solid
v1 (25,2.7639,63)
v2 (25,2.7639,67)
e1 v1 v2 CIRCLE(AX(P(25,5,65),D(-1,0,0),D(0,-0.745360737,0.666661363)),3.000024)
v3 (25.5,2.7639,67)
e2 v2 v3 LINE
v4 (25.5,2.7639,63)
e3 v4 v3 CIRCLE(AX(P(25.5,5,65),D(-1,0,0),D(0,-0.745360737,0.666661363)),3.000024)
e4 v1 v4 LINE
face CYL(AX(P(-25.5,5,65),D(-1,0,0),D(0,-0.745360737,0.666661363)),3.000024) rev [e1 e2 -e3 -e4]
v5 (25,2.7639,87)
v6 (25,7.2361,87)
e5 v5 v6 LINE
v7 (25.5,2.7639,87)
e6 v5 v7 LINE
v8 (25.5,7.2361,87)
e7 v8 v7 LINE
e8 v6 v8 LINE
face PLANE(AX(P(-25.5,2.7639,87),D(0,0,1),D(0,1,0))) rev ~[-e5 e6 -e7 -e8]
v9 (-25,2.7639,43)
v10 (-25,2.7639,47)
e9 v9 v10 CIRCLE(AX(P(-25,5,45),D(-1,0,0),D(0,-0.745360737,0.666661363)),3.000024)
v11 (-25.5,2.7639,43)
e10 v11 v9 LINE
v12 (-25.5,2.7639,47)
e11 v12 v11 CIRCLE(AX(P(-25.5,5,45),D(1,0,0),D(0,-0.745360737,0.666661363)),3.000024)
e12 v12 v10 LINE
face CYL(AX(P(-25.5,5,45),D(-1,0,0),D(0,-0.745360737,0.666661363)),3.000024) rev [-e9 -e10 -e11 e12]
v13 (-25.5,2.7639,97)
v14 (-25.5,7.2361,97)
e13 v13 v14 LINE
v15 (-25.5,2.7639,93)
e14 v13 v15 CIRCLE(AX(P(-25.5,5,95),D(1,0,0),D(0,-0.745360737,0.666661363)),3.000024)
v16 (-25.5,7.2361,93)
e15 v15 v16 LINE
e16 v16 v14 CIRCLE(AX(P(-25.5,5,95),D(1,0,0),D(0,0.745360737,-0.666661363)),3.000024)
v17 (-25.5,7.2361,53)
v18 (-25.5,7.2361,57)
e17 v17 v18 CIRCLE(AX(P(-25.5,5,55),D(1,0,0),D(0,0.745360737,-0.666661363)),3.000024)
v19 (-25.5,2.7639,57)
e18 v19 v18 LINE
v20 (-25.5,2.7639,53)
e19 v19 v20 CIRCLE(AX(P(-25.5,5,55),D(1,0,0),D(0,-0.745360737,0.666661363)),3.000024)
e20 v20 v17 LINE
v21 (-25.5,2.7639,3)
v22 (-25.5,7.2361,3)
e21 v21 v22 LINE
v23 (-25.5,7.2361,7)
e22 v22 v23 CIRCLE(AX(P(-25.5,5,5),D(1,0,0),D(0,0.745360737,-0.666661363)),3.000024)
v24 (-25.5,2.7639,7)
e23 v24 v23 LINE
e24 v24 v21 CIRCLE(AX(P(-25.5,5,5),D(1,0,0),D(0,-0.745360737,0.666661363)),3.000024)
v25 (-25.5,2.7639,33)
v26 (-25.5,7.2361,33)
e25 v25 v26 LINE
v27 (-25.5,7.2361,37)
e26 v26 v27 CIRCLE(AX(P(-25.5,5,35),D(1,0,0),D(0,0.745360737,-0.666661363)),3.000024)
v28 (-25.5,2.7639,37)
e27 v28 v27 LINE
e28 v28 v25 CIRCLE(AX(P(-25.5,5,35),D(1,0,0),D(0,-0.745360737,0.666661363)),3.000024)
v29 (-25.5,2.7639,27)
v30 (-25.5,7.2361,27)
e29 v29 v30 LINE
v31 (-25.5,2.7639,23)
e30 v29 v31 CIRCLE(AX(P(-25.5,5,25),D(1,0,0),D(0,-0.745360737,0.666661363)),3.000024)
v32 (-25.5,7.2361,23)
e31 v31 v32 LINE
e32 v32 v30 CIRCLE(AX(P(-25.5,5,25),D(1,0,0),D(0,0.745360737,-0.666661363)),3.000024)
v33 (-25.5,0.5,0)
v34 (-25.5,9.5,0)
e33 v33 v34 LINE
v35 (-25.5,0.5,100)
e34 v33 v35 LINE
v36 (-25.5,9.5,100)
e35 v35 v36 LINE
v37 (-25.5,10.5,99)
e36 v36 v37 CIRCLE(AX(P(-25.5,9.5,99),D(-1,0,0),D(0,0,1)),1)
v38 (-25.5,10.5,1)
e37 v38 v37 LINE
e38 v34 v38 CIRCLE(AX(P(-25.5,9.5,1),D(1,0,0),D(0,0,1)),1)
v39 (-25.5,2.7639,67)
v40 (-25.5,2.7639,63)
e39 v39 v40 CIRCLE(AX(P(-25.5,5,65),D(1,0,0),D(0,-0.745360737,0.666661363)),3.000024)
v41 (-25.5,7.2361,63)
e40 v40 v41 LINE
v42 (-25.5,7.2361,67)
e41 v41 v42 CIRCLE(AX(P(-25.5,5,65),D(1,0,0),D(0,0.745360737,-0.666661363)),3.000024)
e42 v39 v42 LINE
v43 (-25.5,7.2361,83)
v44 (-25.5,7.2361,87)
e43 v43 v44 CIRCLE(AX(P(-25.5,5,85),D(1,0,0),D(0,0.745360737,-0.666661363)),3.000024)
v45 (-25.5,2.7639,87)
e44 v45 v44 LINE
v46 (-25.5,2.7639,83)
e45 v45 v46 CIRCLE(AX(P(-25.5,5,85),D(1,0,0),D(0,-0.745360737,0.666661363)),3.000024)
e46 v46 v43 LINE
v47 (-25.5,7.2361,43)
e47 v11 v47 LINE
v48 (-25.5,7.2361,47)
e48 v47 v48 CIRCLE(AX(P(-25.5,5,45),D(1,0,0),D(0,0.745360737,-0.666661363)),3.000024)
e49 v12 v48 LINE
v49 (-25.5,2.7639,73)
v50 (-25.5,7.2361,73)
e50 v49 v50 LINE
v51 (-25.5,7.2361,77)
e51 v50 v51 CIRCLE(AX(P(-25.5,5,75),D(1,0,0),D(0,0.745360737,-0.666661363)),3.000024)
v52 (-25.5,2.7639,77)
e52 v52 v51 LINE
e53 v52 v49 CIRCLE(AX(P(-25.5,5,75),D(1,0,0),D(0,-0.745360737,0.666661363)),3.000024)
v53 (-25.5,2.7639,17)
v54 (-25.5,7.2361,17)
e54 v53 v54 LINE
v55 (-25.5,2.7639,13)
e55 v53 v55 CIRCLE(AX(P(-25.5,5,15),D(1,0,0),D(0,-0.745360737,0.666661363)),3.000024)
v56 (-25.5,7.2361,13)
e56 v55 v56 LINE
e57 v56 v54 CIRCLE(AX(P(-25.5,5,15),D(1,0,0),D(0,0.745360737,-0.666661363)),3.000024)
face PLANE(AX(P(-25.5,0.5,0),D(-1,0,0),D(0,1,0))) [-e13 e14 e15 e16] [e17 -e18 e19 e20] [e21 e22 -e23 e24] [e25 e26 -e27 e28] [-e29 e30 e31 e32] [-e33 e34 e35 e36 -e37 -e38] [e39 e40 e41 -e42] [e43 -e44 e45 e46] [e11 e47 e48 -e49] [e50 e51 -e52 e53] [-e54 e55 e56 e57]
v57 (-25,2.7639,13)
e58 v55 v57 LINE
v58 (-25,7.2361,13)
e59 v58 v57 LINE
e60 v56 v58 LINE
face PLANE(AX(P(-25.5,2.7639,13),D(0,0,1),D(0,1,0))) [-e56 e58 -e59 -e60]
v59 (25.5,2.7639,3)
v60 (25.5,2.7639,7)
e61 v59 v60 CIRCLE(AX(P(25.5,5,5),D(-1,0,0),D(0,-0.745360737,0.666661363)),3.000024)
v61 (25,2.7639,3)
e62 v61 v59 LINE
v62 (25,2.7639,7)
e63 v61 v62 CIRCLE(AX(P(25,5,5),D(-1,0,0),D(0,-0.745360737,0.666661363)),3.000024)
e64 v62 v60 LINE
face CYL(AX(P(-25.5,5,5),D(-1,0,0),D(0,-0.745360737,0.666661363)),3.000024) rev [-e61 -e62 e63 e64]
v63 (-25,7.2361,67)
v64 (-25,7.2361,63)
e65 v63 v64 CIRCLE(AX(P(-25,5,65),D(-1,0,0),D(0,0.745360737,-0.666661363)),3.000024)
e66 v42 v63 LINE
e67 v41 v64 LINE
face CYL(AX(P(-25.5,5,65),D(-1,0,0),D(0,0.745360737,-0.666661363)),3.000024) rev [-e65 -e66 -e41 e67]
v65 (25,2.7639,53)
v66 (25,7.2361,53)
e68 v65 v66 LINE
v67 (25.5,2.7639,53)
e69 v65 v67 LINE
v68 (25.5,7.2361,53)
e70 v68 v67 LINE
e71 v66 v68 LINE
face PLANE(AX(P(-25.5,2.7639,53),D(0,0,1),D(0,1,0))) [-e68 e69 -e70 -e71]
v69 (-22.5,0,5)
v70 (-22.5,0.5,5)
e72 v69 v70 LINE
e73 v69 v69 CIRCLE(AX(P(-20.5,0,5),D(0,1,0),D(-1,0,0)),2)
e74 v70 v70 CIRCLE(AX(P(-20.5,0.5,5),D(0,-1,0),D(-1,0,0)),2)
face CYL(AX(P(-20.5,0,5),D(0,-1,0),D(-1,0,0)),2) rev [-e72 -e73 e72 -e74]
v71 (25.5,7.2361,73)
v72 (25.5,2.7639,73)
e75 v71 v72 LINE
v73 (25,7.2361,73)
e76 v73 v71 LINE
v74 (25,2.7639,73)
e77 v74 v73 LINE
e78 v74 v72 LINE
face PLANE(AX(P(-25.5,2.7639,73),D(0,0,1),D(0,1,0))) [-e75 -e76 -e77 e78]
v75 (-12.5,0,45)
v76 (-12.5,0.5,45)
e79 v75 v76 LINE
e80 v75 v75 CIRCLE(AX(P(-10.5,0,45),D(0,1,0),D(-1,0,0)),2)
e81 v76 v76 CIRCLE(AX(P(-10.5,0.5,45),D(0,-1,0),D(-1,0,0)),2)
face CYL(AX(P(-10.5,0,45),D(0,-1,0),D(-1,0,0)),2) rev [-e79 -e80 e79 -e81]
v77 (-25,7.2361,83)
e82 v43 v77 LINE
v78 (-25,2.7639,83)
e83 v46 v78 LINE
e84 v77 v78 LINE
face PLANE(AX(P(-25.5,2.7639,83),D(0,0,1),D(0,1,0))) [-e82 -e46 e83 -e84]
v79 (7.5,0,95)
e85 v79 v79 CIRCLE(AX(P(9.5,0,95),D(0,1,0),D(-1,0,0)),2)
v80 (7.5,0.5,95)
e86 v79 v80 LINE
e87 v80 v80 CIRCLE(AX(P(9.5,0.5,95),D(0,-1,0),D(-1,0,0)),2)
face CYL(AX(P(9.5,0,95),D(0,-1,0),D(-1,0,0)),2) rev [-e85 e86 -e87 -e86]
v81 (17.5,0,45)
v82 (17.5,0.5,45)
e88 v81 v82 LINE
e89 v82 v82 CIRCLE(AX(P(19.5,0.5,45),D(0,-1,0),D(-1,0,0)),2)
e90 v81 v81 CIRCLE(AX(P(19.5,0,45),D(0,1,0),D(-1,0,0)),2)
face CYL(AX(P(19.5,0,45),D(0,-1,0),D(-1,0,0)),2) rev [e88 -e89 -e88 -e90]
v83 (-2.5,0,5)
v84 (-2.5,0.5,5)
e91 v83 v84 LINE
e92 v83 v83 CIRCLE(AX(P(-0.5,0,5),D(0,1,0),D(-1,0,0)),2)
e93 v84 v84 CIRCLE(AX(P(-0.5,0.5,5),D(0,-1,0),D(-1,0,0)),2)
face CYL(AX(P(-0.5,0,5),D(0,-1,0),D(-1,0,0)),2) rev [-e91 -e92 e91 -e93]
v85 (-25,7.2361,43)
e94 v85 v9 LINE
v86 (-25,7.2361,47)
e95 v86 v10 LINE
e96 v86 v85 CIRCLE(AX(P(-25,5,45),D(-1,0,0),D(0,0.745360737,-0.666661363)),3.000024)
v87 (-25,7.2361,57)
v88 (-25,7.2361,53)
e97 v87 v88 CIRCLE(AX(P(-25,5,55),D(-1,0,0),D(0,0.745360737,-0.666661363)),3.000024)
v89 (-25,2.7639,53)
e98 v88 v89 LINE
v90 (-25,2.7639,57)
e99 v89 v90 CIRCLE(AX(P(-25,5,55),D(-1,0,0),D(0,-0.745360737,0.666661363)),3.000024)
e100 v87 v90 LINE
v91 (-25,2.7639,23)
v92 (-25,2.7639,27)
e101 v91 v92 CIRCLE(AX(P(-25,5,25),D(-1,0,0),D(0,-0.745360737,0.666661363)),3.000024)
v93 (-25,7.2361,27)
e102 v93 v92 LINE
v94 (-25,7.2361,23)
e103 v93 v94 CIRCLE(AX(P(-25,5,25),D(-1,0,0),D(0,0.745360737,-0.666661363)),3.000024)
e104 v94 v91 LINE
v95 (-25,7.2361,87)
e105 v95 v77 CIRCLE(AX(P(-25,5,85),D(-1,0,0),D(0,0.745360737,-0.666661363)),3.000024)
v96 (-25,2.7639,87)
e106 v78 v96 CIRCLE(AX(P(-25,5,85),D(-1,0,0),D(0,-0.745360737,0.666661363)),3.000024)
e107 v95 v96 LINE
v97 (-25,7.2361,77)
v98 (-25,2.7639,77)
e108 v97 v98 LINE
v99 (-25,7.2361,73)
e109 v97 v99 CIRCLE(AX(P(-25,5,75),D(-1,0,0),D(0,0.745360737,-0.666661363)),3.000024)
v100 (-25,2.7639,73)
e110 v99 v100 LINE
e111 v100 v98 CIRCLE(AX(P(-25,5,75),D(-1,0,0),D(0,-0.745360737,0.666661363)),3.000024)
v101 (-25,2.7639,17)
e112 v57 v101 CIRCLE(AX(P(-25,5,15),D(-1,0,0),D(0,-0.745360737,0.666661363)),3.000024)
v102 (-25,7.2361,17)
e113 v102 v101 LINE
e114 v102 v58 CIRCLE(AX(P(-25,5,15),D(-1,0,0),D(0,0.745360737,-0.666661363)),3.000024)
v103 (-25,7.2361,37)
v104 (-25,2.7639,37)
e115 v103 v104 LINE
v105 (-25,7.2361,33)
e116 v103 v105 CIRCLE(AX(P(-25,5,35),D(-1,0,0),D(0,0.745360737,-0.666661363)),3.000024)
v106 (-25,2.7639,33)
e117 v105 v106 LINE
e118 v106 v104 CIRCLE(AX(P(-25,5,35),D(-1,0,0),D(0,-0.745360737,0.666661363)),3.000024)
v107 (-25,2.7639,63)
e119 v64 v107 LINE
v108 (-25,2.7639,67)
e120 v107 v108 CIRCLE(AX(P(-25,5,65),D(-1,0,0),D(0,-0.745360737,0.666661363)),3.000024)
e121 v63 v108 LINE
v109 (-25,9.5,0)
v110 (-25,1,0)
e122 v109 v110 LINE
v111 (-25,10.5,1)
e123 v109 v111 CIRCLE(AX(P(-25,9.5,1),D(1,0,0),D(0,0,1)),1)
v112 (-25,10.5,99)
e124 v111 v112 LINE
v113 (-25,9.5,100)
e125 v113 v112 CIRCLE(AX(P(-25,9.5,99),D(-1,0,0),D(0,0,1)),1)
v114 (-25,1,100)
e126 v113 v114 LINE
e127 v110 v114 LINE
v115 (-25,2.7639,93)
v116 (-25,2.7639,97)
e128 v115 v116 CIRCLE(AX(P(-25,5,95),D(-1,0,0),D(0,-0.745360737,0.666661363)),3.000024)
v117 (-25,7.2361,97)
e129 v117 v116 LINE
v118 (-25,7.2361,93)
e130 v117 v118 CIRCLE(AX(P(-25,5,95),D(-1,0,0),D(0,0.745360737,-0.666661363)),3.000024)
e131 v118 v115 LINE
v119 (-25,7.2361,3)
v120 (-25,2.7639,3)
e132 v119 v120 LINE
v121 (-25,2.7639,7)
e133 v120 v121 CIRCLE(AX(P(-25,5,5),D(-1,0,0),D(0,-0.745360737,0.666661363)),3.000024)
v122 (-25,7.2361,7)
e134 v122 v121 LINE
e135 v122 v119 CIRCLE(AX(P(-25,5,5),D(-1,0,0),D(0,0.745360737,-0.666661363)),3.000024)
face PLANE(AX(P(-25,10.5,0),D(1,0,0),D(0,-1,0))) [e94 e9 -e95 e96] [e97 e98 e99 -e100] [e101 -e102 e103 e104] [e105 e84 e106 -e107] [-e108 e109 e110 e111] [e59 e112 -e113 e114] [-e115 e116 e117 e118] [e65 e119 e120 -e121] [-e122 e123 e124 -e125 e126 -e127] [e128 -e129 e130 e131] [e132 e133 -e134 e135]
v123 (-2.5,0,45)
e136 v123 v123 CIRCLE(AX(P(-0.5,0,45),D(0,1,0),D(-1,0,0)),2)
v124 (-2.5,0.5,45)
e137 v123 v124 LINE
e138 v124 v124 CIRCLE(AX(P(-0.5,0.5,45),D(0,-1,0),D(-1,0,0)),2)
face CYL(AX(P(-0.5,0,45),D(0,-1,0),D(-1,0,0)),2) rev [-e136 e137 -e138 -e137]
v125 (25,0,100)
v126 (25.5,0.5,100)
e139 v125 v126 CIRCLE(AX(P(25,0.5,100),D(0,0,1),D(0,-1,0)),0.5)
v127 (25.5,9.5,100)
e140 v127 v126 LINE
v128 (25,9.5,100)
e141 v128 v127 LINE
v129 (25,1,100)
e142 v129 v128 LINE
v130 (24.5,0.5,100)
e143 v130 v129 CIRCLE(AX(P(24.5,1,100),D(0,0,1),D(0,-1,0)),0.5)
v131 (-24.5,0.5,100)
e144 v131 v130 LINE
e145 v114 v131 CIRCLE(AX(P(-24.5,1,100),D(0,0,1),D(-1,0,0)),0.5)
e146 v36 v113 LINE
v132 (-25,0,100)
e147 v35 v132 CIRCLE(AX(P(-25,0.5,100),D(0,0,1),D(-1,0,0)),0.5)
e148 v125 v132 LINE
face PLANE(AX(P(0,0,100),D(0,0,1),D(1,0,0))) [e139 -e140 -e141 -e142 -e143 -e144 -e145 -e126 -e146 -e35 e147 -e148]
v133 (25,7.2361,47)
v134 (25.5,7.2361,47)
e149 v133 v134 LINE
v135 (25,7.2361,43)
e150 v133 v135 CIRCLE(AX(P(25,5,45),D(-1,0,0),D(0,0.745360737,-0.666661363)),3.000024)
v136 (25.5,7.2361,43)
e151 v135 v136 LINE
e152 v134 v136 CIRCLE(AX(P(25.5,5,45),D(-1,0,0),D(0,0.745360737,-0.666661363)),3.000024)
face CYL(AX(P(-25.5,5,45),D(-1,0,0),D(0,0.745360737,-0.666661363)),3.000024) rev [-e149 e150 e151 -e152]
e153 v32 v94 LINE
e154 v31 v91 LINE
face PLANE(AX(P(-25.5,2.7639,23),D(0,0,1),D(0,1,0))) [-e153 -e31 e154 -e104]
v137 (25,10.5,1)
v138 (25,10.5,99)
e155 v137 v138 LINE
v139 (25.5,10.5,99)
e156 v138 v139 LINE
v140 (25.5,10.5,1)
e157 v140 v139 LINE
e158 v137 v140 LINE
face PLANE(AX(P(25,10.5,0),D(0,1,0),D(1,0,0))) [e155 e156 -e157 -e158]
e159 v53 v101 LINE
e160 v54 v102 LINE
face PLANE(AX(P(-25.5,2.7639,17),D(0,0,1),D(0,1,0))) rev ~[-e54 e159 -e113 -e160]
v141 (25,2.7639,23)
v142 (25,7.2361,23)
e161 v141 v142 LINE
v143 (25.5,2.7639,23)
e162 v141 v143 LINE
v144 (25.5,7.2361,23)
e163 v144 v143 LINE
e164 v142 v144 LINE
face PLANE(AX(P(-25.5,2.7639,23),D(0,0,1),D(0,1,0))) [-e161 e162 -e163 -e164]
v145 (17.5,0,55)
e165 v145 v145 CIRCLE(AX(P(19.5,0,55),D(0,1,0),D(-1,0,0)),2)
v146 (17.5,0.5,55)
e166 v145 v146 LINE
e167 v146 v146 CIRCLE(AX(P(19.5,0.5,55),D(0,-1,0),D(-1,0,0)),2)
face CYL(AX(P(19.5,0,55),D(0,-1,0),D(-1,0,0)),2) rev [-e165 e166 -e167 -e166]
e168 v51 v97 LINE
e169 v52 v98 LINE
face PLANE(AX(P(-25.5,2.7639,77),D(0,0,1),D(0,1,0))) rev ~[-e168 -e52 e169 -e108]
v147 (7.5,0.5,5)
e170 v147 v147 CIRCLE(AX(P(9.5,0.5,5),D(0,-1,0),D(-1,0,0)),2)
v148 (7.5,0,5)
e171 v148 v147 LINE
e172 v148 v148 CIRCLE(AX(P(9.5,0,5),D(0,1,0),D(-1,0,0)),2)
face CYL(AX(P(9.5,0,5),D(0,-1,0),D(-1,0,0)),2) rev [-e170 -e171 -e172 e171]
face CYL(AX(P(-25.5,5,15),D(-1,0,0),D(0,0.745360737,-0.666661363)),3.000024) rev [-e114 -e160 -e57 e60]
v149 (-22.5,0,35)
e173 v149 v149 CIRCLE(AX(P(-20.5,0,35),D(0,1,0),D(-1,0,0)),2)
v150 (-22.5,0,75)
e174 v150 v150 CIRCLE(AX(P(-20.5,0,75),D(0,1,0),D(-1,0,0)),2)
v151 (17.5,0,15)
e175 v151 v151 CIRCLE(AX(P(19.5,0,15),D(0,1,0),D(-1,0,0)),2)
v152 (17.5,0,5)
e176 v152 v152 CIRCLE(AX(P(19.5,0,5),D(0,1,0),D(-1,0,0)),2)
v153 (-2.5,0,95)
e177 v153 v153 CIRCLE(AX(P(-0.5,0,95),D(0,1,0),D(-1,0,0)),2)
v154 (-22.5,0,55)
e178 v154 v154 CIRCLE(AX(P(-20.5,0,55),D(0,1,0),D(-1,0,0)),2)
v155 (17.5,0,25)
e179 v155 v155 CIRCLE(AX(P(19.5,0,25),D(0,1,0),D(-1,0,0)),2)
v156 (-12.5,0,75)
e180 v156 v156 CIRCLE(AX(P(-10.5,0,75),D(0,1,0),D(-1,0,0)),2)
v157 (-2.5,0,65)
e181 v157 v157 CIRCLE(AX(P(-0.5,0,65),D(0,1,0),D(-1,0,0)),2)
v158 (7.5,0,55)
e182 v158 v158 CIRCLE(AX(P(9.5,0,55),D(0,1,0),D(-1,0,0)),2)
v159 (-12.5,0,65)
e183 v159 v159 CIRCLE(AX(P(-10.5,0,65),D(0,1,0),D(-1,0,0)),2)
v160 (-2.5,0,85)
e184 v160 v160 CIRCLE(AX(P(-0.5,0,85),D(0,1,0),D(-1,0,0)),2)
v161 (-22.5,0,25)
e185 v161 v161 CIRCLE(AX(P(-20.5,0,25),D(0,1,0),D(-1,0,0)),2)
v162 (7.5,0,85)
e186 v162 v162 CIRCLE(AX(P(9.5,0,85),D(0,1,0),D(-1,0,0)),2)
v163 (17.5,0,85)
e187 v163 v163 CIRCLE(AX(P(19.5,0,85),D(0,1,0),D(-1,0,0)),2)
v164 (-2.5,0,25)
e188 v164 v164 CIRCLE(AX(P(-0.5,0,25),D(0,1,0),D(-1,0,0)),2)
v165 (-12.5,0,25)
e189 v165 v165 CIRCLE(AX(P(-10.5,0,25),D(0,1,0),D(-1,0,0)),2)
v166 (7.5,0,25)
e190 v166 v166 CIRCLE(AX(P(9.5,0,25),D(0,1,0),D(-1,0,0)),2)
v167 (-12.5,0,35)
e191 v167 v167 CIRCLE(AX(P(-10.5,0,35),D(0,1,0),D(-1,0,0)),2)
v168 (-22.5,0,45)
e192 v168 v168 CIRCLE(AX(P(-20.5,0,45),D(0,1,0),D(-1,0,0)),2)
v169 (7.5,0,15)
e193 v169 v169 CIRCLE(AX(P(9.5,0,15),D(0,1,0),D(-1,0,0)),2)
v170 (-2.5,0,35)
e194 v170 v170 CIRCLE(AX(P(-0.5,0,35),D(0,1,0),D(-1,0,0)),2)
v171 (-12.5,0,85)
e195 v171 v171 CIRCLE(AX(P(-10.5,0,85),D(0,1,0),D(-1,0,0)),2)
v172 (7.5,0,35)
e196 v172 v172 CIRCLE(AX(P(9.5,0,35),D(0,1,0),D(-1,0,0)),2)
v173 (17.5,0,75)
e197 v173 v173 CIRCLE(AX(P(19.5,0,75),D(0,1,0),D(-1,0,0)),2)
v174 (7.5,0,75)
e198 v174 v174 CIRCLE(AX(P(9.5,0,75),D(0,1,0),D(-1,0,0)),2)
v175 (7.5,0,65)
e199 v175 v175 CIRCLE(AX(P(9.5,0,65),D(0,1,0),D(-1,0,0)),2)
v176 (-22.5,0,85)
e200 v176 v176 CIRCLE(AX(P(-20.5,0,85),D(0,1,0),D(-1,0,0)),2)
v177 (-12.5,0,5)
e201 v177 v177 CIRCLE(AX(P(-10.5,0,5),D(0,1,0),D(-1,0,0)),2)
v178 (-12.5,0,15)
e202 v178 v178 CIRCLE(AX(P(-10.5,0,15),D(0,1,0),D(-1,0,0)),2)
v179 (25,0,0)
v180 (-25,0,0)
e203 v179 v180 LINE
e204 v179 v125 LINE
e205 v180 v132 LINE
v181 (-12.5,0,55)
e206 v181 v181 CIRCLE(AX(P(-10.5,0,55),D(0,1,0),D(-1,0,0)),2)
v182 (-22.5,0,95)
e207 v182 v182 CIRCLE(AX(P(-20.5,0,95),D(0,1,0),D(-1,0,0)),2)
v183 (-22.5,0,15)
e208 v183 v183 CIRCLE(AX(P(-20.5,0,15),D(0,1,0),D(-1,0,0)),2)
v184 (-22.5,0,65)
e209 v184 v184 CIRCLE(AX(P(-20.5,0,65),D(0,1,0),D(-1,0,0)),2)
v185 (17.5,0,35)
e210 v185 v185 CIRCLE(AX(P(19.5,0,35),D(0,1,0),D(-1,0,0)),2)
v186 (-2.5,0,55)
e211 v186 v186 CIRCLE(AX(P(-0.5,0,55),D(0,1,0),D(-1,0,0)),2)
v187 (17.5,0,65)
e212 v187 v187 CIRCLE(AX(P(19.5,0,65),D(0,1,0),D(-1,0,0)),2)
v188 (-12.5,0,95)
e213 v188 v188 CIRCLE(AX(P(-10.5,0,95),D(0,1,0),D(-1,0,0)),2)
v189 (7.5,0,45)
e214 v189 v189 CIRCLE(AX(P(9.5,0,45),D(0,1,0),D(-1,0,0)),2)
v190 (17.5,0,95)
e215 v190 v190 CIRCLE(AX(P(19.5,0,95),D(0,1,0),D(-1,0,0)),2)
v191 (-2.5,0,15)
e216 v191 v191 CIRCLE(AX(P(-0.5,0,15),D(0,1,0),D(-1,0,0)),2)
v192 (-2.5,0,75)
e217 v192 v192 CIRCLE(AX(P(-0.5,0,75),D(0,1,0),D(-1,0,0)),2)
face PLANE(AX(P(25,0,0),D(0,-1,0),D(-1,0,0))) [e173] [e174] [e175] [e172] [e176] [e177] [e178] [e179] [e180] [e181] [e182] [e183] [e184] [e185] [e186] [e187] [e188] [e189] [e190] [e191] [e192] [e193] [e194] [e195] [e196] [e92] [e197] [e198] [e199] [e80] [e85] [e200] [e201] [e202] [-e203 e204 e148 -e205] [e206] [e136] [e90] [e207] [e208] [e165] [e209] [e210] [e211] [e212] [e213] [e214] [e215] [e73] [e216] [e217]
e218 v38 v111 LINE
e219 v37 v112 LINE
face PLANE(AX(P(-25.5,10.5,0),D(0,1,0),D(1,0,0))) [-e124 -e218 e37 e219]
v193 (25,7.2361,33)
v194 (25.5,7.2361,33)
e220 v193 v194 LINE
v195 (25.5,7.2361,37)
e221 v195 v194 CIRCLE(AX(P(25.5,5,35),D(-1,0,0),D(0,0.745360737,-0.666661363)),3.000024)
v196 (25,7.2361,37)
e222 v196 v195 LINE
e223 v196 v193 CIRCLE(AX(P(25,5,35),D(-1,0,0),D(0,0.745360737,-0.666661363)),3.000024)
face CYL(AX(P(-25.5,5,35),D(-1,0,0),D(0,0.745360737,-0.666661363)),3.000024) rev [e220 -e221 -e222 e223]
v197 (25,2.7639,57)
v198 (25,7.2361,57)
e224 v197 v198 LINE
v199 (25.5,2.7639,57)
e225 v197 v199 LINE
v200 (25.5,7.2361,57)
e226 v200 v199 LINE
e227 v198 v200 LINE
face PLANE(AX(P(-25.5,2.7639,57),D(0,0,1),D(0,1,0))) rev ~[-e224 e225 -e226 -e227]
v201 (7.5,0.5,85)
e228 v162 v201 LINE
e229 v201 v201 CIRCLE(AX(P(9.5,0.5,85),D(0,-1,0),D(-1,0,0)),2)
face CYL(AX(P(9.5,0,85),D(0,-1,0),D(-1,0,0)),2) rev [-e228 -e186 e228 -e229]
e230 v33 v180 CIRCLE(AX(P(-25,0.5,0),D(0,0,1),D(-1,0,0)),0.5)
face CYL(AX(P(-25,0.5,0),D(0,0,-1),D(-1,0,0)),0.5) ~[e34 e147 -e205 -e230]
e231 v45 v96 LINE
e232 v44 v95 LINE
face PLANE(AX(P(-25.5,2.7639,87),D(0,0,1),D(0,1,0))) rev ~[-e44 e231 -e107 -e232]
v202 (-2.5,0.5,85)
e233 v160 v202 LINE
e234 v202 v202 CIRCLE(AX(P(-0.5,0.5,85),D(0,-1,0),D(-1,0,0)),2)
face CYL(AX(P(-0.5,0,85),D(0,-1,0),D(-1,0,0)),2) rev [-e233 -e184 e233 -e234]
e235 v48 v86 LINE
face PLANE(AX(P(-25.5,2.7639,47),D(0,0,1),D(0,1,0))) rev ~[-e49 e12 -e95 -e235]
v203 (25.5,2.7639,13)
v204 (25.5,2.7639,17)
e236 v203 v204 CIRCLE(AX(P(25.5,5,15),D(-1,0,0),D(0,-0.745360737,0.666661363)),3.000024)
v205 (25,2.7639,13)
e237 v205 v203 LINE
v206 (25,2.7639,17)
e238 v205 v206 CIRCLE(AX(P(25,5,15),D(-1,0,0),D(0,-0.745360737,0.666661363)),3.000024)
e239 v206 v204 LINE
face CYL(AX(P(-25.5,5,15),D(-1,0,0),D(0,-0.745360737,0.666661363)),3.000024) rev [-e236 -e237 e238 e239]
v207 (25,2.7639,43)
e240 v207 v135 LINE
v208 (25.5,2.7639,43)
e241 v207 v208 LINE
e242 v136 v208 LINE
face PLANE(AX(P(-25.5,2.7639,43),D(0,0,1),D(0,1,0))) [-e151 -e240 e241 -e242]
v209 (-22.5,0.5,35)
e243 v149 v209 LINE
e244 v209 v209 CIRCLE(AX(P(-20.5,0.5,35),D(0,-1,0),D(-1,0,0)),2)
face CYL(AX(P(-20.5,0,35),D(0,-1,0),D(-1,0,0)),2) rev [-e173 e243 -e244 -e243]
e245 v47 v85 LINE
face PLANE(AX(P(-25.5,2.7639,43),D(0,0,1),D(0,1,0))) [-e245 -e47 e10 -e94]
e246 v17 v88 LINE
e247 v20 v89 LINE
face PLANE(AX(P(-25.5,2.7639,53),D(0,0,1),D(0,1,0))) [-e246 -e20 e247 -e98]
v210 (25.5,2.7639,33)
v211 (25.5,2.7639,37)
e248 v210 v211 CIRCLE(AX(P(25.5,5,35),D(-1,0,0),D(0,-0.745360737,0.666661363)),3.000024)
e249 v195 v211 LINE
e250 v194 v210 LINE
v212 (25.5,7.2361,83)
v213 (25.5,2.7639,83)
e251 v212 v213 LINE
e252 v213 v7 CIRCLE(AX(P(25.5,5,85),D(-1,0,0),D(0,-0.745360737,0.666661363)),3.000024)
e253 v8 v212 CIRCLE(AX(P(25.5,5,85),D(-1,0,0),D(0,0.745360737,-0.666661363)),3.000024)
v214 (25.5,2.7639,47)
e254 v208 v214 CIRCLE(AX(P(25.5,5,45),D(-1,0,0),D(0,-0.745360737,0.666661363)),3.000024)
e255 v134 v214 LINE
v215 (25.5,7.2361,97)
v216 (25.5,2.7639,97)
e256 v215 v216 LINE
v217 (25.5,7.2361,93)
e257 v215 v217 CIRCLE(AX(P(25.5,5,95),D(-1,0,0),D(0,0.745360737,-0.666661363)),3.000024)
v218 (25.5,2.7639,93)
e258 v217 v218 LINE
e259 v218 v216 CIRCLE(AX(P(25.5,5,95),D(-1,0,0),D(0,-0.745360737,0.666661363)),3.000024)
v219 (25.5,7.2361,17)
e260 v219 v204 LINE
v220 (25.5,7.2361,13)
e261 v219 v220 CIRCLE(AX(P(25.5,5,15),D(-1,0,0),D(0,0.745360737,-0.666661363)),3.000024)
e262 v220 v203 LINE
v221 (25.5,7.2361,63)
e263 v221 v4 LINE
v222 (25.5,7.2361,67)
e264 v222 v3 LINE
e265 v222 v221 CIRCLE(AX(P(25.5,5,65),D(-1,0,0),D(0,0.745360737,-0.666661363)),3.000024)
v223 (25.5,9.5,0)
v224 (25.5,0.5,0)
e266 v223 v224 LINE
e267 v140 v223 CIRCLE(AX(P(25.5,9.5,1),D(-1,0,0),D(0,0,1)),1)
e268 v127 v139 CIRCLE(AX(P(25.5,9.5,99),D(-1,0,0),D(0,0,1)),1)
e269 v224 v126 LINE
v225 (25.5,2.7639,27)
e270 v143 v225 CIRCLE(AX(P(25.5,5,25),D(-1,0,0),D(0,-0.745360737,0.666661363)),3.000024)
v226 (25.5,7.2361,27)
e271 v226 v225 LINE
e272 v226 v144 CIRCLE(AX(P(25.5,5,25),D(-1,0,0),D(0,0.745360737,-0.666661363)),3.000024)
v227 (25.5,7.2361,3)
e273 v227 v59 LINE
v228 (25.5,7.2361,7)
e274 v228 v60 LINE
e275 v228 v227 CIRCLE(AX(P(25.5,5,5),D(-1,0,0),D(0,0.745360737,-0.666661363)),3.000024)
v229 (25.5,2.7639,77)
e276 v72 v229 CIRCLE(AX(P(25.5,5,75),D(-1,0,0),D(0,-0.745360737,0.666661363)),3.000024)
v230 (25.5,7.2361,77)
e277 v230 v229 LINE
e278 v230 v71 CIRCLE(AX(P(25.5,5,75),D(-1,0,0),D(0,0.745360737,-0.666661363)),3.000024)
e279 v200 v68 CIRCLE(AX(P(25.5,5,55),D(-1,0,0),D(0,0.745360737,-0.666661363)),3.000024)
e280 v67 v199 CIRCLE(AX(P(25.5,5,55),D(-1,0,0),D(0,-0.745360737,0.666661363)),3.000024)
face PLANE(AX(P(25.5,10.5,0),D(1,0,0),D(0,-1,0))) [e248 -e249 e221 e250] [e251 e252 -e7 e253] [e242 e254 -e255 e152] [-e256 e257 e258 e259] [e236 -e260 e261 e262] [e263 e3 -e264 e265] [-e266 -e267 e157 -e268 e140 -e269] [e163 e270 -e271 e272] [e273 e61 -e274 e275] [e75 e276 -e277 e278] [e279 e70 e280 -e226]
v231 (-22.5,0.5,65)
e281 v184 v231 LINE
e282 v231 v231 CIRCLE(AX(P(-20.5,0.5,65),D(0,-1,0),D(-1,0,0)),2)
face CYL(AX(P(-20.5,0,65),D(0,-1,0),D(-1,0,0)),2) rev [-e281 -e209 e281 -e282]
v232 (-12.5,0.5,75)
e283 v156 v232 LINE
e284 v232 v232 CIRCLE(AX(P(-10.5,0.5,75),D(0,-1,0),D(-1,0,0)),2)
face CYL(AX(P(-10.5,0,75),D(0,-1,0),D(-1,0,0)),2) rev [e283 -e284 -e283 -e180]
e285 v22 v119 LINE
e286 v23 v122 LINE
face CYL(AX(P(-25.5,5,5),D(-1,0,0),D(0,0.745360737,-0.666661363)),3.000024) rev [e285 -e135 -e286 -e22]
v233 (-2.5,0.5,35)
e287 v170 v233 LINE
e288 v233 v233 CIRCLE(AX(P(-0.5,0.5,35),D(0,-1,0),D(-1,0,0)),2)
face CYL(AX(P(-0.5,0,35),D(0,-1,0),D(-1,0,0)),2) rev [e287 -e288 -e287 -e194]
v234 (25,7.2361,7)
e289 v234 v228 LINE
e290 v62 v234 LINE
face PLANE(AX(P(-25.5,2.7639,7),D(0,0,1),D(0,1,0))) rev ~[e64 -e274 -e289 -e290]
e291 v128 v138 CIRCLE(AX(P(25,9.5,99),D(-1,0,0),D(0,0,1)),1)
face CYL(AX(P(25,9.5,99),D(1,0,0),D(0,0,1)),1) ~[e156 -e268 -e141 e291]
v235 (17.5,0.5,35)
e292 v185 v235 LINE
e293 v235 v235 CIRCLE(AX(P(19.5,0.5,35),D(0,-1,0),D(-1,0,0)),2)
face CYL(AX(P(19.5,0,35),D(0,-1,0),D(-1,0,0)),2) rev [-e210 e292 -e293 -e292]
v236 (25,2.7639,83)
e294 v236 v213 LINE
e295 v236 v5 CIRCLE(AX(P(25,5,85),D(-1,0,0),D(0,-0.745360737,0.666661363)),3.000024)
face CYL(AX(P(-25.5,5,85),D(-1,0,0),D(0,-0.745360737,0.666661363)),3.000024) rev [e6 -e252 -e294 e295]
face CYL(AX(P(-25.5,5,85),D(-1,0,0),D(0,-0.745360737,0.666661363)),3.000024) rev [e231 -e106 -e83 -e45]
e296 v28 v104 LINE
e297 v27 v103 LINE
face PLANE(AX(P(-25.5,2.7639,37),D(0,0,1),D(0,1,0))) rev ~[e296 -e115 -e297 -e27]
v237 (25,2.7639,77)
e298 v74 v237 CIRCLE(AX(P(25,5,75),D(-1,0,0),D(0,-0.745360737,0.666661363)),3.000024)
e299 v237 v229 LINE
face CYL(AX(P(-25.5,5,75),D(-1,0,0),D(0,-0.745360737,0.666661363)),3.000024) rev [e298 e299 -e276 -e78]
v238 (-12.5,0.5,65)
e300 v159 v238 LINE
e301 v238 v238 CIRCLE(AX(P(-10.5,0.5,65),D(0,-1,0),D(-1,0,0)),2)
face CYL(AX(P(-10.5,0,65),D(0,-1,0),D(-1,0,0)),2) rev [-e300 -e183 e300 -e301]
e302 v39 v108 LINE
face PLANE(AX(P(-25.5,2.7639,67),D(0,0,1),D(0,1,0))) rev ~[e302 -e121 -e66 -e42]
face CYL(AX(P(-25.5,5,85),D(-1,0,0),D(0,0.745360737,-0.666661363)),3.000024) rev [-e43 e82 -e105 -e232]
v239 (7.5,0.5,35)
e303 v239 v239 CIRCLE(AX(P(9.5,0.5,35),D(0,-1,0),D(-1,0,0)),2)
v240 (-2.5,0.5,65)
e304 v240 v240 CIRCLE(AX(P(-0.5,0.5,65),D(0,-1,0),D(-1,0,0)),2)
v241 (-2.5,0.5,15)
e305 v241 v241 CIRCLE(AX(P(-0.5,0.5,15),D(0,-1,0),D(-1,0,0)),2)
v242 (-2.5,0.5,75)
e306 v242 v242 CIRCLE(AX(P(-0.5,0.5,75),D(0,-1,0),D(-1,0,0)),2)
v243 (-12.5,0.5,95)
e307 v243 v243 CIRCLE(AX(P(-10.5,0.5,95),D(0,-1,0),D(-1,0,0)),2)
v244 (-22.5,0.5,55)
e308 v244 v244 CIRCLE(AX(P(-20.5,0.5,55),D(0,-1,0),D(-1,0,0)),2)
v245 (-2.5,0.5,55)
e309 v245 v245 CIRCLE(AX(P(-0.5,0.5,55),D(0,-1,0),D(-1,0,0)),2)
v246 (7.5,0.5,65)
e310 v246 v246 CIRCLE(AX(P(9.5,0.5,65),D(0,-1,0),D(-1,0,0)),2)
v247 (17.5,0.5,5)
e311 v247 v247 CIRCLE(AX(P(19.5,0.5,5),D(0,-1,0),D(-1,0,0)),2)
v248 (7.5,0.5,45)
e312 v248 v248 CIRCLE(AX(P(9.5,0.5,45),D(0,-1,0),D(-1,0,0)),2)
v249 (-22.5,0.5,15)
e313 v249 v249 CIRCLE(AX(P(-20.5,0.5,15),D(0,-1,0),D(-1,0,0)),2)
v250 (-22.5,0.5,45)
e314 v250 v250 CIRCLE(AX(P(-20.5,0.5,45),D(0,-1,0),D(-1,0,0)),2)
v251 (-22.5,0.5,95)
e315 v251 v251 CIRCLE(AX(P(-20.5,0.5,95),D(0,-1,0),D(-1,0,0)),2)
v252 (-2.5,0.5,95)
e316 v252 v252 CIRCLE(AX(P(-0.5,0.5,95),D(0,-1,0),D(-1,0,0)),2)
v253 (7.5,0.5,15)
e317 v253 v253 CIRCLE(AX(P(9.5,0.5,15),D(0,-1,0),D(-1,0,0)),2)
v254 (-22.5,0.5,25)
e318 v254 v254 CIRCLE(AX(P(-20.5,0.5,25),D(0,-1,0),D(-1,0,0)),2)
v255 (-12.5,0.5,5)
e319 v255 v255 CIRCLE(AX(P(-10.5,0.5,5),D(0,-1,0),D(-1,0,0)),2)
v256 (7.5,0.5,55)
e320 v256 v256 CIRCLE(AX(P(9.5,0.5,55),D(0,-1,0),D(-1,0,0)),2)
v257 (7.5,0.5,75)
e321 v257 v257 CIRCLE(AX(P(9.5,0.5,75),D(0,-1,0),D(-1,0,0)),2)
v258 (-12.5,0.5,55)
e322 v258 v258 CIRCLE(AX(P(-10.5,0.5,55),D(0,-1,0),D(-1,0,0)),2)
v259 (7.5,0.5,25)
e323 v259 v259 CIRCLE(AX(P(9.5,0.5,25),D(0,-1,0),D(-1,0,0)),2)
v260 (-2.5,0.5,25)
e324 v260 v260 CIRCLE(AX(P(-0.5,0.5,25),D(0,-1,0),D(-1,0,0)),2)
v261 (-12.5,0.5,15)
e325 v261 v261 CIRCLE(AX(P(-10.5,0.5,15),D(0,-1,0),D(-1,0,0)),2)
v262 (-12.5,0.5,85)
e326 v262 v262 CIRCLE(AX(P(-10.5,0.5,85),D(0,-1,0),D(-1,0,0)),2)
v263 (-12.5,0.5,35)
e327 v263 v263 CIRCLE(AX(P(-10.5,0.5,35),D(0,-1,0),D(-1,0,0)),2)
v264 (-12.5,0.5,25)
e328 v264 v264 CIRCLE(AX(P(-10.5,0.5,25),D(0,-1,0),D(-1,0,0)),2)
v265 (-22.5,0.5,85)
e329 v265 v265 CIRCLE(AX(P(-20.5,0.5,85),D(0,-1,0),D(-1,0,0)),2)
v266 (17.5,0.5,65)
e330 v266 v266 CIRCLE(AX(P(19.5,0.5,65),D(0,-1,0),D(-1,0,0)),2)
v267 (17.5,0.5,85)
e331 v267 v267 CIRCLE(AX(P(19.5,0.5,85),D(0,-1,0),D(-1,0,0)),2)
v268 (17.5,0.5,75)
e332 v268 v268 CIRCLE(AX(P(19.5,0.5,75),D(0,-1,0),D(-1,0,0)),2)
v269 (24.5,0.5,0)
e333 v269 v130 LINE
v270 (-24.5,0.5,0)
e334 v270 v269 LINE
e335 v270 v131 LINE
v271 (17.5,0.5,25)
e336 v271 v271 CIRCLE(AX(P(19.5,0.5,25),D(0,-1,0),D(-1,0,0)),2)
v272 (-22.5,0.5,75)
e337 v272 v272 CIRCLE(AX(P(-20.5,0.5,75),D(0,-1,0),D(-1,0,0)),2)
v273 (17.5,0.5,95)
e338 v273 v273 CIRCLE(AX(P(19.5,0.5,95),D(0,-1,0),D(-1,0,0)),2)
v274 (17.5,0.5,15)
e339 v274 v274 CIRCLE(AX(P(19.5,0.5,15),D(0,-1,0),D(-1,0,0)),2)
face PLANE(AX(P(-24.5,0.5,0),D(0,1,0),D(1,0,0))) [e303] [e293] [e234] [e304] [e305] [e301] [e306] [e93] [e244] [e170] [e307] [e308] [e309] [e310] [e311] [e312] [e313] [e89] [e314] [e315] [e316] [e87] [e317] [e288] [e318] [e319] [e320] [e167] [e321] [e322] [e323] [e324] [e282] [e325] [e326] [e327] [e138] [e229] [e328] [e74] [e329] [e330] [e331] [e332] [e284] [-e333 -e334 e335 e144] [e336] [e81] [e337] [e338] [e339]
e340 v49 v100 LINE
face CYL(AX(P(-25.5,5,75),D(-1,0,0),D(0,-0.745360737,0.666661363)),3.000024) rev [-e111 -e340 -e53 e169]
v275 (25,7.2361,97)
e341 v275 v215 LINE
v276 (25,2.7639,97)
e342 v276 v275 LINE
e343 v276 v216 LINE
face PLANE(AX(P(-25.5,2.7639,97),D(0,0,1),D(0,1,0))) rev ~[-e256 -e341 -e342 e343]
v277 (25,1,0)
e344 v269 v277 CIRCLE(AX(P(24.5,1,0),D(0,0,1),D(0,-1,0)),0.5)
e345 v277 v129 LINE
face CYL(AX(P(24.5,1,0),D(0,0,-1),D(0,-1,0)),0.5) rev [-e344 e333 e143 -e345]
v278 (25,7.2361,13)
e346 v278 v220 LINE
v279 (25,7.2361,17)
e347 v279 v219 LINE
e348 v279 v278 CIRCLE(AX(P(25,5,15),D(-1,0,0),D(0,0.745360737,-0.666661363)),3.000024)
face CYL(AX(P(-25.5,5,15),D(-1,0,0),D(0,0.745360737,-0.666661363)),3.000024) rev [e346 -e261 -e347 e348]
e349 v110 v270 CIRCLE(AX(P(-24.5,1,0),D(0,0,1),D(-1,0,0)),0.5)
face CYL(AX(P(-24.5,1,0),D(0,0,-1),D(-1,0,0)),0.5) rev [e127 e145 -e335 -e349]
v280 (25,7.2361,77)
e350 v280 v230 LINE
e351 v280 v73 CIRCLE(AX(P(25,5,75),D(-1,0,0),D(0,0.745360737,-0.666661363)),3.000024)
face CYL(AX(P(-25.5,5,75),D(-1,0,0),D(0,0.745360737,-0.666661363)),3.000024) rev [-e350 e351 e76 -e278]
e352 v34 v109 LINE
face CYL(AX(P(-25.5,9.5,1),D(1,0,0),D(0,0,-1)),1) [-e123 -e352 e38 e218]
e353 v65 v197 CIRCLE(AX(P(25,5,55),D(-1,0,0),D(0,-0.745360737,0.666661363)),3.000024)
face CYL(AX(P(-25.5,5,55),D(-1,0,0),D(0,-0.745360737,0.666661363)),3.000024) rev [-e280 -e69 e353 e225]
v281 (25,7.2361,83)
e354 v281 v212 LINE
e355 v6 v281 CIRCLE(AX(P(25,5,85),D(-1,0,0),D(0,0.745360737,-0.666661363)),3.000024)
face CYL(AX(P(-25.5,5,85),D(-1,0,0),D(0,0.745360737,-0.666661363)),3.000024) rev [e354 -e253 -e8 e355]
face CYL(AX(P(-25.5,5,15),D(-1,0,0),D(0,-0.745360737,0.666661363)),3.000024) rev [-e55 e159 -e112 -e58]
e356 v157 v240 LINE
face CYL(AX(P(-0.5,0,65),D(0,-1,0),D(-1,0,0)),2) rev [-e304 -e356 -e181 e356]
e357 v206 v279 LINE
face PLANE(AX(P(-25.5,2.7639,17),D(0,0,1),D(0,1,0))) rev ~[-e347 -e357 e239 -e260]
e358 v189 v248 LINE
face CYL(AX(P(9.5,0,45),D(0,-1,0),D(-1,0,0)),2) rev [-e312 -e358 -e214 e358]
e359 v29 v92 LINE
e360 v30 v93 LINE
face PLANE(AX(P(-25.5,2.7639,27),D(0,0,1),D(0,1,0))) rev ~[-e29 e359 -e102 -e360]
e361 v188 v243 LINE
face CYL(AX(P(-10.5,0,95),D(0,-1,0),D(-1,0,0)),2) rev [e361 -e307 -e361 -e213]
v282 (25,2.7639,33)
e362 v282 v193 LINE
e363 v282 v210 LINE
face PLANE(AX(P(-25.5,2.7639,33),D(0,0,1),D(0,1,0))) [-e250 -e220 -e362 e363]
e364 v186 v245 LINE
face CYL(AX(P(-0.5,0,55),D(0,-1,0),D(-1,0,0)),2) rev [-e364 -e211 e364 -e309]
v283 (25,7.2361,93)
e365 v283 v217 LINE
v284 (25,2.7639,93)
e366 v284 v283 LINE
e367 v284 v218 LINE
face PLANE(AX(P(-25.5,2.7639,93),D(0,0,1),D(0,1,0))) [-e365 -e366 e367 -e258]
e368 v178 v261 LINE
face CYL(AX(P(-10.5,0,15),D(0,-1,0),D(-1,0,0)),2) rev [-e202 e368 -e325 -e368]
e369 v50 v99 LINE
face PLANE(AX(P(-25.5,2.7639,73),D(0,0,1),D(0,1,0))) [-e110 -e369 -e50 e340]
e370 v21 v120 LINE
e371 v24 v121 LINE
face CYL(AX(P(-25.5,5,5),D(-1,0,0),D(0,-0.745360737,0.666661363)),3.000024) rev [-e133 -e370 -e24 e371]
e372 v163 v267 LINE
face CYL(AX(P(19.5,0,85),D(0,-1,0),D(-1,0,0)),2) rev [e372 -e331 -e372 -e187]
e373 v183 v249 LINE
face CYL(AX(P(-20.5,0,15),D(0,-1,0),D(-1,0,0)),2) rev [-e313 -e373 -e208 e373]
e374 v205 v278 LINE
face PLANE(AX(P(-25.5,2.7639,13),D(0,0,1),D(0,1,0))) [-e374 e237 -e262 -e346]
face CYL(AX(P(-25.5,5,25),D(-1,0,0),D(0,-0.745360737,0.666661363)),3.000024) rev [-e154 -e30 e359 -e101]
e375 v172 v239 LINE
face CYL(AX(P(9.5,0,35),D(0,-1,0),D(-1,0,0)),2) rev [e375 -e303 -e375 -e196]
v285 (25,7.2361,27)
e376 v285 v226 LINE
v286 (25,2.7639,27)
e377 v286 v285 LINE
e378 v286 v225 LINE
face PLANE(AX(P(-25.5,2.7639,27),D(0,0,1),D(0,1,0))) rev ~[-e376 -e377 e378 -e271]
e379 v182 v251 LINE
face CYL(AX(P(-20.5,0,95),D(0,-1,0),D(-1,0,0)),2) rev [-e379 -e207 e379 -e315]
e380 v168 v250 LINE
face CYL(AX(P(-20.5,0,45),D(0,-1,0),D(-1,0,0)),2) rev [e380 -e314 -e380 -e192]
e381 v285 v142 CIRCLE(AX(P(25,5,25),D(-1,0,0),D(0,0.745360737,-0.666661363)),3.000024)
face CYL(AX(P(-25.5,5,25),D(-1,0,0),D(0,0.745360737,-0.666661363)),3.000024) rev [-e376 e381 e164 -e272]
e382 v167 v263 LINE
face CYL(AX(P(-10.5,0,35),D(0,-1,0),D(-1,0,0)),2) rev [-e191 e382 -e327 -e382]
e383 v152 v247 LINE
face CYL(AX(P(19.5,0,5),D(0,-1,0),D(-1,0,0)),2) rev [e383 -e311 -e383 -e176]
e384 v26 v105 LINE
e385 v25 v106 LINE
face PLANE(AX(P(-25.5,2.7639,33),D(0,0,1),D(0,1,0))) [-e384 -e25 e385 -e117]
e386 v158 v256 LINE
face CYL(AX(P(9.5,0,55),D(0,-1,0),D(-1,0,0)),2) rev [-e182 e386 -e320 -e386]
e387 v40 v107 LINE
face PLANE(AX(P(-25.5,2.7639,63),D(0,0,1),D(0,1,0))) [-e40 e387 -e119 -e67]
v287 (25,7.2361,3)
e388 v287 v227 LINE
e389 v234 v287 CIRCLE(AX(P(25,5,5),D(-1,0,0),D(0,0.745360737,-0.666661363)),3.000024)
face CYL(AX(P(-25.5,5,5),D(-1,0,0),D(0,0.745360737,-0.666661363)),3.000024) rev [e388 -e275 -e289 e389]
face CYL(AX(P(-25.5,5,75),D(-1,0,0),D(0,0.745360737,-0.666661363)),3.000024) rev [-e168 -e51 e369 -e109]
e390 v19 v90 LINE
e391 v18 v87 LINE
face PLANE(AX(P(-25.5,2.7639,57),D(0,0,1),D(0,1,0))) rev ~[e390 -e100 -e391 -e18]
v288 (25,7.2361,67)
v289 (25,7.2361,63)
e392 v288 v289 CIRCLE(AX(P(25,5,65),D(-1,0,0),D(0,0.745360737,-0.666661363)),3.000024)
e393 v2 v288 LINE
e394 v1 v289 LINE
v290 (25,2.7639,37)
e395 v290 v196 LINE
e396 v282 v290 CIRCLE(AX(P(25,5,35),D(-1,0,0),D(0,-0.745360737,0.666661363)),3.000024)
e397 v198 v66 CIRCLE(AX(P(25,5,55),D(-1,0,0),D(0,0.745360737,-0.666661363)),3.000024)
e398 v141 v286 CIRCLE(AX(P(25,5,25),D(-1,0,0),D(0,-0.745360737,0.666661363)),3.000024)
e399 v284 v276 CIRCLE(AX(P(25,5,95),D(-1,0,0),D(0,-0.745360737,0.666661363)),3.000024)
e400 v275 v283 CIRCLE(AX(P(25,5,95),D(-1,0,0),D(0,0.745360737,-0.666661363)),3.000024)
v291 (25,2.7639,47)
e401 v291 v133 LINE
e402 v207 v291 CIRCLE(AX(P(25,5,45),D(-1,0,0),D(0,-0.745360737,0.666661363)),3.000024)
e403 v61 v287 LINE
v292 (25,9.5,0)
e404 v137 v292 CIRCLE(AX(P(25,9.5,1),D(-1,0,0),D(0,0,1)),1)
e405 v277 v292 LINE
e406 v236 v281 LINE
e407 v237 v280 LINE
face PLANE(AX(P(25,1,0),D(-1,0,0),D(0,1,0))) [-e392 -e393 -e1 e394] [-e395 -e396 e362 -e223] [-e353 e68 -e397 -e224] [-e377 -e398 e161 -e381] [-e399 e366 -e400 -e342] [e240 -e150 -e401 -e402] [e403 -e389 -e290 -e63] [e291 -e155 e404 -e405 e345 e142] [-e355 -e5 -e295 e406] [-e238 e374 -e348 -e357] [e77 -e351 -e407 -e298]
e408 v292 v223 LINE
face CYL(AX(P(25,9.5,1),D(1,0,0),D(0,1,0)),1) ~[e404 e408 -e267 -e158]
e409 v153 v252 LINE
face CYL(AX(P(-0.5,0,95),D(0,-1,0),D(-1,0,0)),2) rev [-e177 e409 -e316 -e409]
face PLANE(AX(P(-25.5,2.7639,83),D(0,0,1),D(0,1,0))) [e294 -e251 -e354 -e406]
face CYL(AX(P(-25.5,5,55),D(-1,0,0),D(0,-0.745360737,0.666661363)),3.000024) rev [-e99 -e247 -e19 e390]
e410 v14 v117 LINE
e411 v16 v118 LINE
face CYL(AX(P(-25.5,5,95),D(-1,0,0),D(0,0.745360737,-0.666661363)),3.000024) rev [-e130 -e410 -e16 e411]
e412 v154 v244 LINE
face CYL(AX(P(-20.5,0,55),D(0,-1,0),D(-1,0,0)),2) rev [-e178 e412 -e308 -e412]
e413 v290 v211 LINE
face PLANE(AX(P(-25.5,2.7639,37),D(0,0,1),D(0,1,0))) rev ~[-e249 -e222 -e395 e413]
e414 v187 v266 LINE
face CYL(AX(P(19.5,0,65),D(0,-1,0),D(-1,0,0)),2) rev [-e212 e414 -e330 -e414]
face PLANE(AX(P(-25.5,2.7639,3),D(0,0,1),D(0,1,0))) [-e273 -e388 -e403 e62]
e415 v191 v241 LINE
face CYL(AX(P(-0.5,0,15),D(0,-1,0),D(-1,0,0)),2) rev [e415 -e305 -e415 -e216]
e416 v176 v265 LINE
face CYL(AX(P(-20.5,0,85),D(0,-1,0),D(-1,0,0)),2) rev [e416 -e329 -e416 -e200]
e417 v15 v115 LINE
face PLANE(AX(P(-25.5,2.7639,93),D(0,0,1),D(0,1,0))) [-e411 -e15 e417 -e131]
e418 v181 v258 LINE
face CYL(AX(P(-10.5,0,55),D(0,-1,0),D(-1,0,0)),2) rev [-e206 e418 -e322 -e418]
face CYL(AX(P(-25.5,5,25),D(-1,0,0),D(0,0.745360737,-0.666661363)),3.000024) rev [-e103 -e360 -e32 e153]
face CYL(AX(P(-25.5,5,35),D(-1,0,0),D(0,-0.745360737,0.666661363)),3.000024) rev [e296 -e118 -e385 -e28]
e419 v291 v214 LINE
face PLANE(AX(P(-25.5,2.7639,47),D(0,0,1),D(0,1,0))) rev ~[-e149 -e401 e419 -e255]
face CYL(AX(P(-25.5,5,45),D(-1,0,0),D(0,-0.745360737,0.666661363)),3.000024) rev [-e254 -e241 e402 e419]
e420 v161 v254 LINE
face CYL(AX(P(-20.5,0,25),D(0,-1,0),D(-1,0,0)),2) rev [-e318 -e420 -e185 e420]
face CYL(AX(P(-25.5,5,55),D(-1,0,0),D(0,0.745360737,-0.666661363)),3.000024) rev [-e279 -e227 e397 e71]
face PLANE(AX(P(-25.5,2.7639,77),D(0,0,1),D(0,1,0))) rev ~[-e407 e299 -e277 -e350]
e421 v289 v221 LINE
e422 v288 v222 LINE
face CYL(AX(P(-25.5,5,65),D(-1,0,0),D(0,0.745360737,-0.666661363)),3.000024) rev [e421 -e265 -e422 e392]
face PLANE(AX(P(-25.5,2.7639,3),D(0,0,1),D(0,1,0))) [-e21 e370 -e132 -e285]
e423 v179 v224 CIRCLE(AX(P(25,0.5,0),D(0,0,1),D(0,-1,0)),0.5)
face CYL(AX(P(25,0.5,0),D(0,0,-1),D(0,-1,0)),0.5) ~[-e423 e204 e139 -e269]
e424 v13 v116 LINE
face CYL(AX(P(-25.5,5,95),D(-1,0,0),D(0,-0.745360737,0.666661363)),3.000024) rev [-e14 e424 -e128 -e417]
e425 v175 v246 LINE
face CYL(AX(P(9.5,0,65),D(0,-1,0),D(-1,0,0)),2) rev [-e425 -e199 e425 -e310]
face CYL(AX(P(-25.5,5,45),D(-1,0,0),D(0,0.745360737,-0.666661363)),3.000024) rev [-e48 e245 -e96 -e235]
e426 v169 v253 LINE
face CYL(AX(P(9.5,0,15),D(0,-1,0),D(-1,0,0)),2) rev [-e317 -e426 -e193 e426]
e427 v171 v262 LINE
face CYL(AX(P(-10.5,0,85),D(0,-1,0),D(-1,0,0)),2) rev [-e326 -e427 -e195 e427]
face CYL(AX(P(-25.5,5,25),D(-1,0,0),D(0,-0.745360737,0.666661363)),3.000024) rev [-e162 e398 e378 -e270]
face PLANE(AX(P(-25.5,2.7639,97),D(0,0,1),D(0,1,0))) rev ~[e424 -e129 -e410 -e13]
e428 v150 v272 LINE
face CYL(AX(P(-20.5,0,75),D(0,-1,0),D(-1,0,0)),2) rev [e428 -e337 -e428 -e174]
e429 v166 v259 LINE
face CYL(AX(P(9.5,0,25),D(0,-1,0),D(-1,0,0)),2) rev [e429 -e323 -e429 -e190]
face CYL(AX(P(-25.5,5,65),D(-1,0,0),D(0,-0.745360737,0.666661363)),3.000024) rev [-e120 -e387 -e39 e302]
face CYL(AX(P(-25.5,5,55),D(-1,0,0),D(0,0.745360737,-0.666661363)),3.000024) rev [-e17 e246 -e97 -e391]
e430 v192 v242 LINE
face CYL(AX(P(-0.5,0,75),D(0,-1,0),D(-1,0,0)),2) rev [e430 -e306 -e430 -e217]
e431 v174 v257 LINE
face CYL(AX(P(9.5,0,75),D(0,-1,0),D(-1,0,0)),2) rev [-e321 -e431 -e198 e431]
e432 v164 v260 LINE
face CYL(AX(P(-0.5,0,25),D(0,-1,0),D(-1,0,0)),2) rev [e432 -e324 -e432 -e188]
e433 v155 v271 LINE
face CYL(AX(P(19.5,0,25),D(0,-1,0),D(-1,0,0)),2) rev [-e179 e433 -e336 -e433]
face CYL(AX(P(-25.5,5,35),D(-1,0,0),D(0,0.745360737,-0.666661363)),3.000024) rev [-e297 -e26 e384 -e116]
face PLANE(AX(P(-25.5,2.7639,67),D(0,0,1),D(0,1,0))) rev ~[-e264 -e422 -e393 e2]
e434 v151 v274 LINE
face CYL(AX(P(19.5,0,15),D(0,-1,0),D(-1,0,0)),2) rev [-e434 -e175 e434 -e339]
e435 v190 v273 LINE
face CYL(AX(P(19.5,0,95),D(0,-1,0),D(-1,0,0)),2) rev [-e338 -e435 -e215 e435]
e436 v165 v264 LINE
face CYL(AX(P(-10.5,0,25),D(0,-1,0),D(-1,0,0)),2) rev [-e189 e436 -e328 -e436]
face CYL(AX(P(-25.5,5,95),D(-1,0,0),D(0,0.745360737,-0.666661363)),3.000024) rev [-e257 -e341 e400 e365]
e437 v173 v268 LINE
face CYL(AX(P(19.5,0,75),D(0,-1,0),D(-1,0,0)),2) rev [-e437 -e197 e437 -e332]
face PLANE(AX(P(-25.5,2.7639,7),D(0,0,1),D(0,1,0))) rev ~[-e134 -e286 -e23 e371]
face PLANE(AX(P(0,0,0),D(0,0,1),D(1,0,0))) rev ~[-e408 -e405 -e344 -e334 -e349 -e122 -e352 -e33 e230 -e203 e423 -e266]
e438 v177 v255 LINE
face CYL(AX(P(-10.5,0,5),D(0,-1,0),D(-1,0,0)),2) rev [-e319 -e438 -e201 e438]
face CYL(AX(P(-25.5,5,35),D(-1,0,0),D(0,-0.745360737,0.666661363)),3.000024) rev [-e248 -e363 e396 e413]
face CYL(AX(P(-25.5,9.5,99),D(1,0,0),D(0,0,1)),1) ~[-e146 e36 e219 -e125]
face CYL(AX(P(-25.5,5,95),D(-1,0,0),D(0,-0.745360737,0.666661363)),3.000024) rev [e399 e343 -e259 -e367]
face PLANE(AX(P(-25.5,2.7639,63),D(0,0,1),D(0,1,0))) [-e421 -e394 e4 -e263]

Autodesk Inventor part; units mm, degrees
ref_plane "XZ Plane" through (0, 0, 0) normal (0, 1, 0) x (-1, 0, 0)
ref_plane "XY Plane" through (0, 0, 0) normal (0, 0, 1) x (1, 0, 0)
sketch "Náčrt1" plane through (0, 0, 0) normal (0, 0, 1) x (1, 0, 0)
  line L0 (-24.5, 0.5) -> (24.5, 0.5)
  line L1 (25, 1) -> (25, 10.5)
  line L2 (25, 10.5) -> (25.5, 10.5)
  line L3 (25.5, 10.5) -> (25.5, 0.5)
  line L4 (25, 0) -> (-25, 0)
  line L5 (-25.5, 0.5) -> (-25.5, 10.5)
  line L6 (-25.5, 10.5) -> (-25, 10.5)
  line L7 (-25, 10.5) -> (-25, 1)
  arc A0 (25, 0) -> (25.5, 0.5) centre (25, 0.5) ccw
  arc A1 (-25.5, 0.5) -> (-25, 0) centre (-25, 0.5) ccw
  arc A2 (24.5, 0.5) -> (25, 1) centre (24.5, 1) ccw
  arc A3 (-25, 1) -> (-24.5, 0.5) centre (-24.5, 1) ccw
  point P0 (0, 0)
  point P1 (-25, 0.5)
  point P2 (25, 0.5)
  point P3 (25.5, 0)
  point P4 (-25.5, 0)
  point P5 (25.5, 5.5)
  point P6 (25, 5.75)
  point P7 (-25.5, 5.5)
  point P8 (-25, 5.75)
  dimension "d0" = 51
  dimension "d1" = 25.5
  dimension "d2" = 0.5
  dimension "d3" = 0.5
  dimension "d4" = 0.5
  dimension "d7" = 10
  dimension "d34" = 0.5
  dimension "d35" = 0.5
extrude "Vysunutí1" add sketch "Náčrt1" along normal blind 100
sketch "Náčrt2" plane through (0, 0, 0) normal (0, 1, 0) x (-1, 0, 0)
  circle A0 centre (20.5, 5) radius 2
  line L0 (25.5, 0) -> (25.5, 50) projected
  line L1 (25, 0) -> (-25, 0) projected
  point P0 (0, 0)
  point P1 (-25.5, 0)
  dimension "d8" = 4
  dimension "d9" = 5
  dimension "d10" = 5
extrude "Vysunutí2" cut sketch "Náčrt2" along normal through all
pattern_linear "Obdélníkové pole1" count 5 spacing 10 along (1, 0, 0) count 10 spacing 10 along (0, 0, 1) of "Vysunutí2"
ref_plane "Pracovní rovina1" through (-25.5, 0, 0) normal (1, 0, 0) x (0, 1, 0)
sketch "Náčrt4" plane through (-25.5, 0, 0) normal (1, 0, 0) x (0, 1, 0)
  line L0 (10.5, 0) -> (0, 0) projected
  line L1 (0, 0) -> (0, 50) projected
  line L2 (2, 7) -> (8, 7)
  line L3 (2, 3) -> (8, 3)
  arc A0 (7.2361, 3) -> (7.2361, 7) centre (5, 5) ccw
  arc A1 (2.7639, 7) -> (2.7639, 3) centre (5, 5) ccw
  dimension "d21" = 5
  dimension "d22" = 5
  dimension "d23" = 6
  dimension "d24" = 4
  dimension "d25" = 2
  dimension "d26" = 6
  dimension "d27" = 3
  dimension "d28" = 3
extrude "Vysunutí3" cut sketch "Náčrt4" along normal through all
pattern_linear "Obdélníkové pole2" count 10 spacing 10 along (0, 0, 1) of "Vysunutí3"
fillet "Zaoblení1" radius 1 2 edges at (-25.25, 10.5, 100) (25.25, 10.5, 100)
fillet "Zaoblení2" radius 1 2 edges at (25.25, 10.5, 0) (-25.25, 10.5, 0)
equation "\"d1\" = 0.5 * d0"
properties part number "1036"
